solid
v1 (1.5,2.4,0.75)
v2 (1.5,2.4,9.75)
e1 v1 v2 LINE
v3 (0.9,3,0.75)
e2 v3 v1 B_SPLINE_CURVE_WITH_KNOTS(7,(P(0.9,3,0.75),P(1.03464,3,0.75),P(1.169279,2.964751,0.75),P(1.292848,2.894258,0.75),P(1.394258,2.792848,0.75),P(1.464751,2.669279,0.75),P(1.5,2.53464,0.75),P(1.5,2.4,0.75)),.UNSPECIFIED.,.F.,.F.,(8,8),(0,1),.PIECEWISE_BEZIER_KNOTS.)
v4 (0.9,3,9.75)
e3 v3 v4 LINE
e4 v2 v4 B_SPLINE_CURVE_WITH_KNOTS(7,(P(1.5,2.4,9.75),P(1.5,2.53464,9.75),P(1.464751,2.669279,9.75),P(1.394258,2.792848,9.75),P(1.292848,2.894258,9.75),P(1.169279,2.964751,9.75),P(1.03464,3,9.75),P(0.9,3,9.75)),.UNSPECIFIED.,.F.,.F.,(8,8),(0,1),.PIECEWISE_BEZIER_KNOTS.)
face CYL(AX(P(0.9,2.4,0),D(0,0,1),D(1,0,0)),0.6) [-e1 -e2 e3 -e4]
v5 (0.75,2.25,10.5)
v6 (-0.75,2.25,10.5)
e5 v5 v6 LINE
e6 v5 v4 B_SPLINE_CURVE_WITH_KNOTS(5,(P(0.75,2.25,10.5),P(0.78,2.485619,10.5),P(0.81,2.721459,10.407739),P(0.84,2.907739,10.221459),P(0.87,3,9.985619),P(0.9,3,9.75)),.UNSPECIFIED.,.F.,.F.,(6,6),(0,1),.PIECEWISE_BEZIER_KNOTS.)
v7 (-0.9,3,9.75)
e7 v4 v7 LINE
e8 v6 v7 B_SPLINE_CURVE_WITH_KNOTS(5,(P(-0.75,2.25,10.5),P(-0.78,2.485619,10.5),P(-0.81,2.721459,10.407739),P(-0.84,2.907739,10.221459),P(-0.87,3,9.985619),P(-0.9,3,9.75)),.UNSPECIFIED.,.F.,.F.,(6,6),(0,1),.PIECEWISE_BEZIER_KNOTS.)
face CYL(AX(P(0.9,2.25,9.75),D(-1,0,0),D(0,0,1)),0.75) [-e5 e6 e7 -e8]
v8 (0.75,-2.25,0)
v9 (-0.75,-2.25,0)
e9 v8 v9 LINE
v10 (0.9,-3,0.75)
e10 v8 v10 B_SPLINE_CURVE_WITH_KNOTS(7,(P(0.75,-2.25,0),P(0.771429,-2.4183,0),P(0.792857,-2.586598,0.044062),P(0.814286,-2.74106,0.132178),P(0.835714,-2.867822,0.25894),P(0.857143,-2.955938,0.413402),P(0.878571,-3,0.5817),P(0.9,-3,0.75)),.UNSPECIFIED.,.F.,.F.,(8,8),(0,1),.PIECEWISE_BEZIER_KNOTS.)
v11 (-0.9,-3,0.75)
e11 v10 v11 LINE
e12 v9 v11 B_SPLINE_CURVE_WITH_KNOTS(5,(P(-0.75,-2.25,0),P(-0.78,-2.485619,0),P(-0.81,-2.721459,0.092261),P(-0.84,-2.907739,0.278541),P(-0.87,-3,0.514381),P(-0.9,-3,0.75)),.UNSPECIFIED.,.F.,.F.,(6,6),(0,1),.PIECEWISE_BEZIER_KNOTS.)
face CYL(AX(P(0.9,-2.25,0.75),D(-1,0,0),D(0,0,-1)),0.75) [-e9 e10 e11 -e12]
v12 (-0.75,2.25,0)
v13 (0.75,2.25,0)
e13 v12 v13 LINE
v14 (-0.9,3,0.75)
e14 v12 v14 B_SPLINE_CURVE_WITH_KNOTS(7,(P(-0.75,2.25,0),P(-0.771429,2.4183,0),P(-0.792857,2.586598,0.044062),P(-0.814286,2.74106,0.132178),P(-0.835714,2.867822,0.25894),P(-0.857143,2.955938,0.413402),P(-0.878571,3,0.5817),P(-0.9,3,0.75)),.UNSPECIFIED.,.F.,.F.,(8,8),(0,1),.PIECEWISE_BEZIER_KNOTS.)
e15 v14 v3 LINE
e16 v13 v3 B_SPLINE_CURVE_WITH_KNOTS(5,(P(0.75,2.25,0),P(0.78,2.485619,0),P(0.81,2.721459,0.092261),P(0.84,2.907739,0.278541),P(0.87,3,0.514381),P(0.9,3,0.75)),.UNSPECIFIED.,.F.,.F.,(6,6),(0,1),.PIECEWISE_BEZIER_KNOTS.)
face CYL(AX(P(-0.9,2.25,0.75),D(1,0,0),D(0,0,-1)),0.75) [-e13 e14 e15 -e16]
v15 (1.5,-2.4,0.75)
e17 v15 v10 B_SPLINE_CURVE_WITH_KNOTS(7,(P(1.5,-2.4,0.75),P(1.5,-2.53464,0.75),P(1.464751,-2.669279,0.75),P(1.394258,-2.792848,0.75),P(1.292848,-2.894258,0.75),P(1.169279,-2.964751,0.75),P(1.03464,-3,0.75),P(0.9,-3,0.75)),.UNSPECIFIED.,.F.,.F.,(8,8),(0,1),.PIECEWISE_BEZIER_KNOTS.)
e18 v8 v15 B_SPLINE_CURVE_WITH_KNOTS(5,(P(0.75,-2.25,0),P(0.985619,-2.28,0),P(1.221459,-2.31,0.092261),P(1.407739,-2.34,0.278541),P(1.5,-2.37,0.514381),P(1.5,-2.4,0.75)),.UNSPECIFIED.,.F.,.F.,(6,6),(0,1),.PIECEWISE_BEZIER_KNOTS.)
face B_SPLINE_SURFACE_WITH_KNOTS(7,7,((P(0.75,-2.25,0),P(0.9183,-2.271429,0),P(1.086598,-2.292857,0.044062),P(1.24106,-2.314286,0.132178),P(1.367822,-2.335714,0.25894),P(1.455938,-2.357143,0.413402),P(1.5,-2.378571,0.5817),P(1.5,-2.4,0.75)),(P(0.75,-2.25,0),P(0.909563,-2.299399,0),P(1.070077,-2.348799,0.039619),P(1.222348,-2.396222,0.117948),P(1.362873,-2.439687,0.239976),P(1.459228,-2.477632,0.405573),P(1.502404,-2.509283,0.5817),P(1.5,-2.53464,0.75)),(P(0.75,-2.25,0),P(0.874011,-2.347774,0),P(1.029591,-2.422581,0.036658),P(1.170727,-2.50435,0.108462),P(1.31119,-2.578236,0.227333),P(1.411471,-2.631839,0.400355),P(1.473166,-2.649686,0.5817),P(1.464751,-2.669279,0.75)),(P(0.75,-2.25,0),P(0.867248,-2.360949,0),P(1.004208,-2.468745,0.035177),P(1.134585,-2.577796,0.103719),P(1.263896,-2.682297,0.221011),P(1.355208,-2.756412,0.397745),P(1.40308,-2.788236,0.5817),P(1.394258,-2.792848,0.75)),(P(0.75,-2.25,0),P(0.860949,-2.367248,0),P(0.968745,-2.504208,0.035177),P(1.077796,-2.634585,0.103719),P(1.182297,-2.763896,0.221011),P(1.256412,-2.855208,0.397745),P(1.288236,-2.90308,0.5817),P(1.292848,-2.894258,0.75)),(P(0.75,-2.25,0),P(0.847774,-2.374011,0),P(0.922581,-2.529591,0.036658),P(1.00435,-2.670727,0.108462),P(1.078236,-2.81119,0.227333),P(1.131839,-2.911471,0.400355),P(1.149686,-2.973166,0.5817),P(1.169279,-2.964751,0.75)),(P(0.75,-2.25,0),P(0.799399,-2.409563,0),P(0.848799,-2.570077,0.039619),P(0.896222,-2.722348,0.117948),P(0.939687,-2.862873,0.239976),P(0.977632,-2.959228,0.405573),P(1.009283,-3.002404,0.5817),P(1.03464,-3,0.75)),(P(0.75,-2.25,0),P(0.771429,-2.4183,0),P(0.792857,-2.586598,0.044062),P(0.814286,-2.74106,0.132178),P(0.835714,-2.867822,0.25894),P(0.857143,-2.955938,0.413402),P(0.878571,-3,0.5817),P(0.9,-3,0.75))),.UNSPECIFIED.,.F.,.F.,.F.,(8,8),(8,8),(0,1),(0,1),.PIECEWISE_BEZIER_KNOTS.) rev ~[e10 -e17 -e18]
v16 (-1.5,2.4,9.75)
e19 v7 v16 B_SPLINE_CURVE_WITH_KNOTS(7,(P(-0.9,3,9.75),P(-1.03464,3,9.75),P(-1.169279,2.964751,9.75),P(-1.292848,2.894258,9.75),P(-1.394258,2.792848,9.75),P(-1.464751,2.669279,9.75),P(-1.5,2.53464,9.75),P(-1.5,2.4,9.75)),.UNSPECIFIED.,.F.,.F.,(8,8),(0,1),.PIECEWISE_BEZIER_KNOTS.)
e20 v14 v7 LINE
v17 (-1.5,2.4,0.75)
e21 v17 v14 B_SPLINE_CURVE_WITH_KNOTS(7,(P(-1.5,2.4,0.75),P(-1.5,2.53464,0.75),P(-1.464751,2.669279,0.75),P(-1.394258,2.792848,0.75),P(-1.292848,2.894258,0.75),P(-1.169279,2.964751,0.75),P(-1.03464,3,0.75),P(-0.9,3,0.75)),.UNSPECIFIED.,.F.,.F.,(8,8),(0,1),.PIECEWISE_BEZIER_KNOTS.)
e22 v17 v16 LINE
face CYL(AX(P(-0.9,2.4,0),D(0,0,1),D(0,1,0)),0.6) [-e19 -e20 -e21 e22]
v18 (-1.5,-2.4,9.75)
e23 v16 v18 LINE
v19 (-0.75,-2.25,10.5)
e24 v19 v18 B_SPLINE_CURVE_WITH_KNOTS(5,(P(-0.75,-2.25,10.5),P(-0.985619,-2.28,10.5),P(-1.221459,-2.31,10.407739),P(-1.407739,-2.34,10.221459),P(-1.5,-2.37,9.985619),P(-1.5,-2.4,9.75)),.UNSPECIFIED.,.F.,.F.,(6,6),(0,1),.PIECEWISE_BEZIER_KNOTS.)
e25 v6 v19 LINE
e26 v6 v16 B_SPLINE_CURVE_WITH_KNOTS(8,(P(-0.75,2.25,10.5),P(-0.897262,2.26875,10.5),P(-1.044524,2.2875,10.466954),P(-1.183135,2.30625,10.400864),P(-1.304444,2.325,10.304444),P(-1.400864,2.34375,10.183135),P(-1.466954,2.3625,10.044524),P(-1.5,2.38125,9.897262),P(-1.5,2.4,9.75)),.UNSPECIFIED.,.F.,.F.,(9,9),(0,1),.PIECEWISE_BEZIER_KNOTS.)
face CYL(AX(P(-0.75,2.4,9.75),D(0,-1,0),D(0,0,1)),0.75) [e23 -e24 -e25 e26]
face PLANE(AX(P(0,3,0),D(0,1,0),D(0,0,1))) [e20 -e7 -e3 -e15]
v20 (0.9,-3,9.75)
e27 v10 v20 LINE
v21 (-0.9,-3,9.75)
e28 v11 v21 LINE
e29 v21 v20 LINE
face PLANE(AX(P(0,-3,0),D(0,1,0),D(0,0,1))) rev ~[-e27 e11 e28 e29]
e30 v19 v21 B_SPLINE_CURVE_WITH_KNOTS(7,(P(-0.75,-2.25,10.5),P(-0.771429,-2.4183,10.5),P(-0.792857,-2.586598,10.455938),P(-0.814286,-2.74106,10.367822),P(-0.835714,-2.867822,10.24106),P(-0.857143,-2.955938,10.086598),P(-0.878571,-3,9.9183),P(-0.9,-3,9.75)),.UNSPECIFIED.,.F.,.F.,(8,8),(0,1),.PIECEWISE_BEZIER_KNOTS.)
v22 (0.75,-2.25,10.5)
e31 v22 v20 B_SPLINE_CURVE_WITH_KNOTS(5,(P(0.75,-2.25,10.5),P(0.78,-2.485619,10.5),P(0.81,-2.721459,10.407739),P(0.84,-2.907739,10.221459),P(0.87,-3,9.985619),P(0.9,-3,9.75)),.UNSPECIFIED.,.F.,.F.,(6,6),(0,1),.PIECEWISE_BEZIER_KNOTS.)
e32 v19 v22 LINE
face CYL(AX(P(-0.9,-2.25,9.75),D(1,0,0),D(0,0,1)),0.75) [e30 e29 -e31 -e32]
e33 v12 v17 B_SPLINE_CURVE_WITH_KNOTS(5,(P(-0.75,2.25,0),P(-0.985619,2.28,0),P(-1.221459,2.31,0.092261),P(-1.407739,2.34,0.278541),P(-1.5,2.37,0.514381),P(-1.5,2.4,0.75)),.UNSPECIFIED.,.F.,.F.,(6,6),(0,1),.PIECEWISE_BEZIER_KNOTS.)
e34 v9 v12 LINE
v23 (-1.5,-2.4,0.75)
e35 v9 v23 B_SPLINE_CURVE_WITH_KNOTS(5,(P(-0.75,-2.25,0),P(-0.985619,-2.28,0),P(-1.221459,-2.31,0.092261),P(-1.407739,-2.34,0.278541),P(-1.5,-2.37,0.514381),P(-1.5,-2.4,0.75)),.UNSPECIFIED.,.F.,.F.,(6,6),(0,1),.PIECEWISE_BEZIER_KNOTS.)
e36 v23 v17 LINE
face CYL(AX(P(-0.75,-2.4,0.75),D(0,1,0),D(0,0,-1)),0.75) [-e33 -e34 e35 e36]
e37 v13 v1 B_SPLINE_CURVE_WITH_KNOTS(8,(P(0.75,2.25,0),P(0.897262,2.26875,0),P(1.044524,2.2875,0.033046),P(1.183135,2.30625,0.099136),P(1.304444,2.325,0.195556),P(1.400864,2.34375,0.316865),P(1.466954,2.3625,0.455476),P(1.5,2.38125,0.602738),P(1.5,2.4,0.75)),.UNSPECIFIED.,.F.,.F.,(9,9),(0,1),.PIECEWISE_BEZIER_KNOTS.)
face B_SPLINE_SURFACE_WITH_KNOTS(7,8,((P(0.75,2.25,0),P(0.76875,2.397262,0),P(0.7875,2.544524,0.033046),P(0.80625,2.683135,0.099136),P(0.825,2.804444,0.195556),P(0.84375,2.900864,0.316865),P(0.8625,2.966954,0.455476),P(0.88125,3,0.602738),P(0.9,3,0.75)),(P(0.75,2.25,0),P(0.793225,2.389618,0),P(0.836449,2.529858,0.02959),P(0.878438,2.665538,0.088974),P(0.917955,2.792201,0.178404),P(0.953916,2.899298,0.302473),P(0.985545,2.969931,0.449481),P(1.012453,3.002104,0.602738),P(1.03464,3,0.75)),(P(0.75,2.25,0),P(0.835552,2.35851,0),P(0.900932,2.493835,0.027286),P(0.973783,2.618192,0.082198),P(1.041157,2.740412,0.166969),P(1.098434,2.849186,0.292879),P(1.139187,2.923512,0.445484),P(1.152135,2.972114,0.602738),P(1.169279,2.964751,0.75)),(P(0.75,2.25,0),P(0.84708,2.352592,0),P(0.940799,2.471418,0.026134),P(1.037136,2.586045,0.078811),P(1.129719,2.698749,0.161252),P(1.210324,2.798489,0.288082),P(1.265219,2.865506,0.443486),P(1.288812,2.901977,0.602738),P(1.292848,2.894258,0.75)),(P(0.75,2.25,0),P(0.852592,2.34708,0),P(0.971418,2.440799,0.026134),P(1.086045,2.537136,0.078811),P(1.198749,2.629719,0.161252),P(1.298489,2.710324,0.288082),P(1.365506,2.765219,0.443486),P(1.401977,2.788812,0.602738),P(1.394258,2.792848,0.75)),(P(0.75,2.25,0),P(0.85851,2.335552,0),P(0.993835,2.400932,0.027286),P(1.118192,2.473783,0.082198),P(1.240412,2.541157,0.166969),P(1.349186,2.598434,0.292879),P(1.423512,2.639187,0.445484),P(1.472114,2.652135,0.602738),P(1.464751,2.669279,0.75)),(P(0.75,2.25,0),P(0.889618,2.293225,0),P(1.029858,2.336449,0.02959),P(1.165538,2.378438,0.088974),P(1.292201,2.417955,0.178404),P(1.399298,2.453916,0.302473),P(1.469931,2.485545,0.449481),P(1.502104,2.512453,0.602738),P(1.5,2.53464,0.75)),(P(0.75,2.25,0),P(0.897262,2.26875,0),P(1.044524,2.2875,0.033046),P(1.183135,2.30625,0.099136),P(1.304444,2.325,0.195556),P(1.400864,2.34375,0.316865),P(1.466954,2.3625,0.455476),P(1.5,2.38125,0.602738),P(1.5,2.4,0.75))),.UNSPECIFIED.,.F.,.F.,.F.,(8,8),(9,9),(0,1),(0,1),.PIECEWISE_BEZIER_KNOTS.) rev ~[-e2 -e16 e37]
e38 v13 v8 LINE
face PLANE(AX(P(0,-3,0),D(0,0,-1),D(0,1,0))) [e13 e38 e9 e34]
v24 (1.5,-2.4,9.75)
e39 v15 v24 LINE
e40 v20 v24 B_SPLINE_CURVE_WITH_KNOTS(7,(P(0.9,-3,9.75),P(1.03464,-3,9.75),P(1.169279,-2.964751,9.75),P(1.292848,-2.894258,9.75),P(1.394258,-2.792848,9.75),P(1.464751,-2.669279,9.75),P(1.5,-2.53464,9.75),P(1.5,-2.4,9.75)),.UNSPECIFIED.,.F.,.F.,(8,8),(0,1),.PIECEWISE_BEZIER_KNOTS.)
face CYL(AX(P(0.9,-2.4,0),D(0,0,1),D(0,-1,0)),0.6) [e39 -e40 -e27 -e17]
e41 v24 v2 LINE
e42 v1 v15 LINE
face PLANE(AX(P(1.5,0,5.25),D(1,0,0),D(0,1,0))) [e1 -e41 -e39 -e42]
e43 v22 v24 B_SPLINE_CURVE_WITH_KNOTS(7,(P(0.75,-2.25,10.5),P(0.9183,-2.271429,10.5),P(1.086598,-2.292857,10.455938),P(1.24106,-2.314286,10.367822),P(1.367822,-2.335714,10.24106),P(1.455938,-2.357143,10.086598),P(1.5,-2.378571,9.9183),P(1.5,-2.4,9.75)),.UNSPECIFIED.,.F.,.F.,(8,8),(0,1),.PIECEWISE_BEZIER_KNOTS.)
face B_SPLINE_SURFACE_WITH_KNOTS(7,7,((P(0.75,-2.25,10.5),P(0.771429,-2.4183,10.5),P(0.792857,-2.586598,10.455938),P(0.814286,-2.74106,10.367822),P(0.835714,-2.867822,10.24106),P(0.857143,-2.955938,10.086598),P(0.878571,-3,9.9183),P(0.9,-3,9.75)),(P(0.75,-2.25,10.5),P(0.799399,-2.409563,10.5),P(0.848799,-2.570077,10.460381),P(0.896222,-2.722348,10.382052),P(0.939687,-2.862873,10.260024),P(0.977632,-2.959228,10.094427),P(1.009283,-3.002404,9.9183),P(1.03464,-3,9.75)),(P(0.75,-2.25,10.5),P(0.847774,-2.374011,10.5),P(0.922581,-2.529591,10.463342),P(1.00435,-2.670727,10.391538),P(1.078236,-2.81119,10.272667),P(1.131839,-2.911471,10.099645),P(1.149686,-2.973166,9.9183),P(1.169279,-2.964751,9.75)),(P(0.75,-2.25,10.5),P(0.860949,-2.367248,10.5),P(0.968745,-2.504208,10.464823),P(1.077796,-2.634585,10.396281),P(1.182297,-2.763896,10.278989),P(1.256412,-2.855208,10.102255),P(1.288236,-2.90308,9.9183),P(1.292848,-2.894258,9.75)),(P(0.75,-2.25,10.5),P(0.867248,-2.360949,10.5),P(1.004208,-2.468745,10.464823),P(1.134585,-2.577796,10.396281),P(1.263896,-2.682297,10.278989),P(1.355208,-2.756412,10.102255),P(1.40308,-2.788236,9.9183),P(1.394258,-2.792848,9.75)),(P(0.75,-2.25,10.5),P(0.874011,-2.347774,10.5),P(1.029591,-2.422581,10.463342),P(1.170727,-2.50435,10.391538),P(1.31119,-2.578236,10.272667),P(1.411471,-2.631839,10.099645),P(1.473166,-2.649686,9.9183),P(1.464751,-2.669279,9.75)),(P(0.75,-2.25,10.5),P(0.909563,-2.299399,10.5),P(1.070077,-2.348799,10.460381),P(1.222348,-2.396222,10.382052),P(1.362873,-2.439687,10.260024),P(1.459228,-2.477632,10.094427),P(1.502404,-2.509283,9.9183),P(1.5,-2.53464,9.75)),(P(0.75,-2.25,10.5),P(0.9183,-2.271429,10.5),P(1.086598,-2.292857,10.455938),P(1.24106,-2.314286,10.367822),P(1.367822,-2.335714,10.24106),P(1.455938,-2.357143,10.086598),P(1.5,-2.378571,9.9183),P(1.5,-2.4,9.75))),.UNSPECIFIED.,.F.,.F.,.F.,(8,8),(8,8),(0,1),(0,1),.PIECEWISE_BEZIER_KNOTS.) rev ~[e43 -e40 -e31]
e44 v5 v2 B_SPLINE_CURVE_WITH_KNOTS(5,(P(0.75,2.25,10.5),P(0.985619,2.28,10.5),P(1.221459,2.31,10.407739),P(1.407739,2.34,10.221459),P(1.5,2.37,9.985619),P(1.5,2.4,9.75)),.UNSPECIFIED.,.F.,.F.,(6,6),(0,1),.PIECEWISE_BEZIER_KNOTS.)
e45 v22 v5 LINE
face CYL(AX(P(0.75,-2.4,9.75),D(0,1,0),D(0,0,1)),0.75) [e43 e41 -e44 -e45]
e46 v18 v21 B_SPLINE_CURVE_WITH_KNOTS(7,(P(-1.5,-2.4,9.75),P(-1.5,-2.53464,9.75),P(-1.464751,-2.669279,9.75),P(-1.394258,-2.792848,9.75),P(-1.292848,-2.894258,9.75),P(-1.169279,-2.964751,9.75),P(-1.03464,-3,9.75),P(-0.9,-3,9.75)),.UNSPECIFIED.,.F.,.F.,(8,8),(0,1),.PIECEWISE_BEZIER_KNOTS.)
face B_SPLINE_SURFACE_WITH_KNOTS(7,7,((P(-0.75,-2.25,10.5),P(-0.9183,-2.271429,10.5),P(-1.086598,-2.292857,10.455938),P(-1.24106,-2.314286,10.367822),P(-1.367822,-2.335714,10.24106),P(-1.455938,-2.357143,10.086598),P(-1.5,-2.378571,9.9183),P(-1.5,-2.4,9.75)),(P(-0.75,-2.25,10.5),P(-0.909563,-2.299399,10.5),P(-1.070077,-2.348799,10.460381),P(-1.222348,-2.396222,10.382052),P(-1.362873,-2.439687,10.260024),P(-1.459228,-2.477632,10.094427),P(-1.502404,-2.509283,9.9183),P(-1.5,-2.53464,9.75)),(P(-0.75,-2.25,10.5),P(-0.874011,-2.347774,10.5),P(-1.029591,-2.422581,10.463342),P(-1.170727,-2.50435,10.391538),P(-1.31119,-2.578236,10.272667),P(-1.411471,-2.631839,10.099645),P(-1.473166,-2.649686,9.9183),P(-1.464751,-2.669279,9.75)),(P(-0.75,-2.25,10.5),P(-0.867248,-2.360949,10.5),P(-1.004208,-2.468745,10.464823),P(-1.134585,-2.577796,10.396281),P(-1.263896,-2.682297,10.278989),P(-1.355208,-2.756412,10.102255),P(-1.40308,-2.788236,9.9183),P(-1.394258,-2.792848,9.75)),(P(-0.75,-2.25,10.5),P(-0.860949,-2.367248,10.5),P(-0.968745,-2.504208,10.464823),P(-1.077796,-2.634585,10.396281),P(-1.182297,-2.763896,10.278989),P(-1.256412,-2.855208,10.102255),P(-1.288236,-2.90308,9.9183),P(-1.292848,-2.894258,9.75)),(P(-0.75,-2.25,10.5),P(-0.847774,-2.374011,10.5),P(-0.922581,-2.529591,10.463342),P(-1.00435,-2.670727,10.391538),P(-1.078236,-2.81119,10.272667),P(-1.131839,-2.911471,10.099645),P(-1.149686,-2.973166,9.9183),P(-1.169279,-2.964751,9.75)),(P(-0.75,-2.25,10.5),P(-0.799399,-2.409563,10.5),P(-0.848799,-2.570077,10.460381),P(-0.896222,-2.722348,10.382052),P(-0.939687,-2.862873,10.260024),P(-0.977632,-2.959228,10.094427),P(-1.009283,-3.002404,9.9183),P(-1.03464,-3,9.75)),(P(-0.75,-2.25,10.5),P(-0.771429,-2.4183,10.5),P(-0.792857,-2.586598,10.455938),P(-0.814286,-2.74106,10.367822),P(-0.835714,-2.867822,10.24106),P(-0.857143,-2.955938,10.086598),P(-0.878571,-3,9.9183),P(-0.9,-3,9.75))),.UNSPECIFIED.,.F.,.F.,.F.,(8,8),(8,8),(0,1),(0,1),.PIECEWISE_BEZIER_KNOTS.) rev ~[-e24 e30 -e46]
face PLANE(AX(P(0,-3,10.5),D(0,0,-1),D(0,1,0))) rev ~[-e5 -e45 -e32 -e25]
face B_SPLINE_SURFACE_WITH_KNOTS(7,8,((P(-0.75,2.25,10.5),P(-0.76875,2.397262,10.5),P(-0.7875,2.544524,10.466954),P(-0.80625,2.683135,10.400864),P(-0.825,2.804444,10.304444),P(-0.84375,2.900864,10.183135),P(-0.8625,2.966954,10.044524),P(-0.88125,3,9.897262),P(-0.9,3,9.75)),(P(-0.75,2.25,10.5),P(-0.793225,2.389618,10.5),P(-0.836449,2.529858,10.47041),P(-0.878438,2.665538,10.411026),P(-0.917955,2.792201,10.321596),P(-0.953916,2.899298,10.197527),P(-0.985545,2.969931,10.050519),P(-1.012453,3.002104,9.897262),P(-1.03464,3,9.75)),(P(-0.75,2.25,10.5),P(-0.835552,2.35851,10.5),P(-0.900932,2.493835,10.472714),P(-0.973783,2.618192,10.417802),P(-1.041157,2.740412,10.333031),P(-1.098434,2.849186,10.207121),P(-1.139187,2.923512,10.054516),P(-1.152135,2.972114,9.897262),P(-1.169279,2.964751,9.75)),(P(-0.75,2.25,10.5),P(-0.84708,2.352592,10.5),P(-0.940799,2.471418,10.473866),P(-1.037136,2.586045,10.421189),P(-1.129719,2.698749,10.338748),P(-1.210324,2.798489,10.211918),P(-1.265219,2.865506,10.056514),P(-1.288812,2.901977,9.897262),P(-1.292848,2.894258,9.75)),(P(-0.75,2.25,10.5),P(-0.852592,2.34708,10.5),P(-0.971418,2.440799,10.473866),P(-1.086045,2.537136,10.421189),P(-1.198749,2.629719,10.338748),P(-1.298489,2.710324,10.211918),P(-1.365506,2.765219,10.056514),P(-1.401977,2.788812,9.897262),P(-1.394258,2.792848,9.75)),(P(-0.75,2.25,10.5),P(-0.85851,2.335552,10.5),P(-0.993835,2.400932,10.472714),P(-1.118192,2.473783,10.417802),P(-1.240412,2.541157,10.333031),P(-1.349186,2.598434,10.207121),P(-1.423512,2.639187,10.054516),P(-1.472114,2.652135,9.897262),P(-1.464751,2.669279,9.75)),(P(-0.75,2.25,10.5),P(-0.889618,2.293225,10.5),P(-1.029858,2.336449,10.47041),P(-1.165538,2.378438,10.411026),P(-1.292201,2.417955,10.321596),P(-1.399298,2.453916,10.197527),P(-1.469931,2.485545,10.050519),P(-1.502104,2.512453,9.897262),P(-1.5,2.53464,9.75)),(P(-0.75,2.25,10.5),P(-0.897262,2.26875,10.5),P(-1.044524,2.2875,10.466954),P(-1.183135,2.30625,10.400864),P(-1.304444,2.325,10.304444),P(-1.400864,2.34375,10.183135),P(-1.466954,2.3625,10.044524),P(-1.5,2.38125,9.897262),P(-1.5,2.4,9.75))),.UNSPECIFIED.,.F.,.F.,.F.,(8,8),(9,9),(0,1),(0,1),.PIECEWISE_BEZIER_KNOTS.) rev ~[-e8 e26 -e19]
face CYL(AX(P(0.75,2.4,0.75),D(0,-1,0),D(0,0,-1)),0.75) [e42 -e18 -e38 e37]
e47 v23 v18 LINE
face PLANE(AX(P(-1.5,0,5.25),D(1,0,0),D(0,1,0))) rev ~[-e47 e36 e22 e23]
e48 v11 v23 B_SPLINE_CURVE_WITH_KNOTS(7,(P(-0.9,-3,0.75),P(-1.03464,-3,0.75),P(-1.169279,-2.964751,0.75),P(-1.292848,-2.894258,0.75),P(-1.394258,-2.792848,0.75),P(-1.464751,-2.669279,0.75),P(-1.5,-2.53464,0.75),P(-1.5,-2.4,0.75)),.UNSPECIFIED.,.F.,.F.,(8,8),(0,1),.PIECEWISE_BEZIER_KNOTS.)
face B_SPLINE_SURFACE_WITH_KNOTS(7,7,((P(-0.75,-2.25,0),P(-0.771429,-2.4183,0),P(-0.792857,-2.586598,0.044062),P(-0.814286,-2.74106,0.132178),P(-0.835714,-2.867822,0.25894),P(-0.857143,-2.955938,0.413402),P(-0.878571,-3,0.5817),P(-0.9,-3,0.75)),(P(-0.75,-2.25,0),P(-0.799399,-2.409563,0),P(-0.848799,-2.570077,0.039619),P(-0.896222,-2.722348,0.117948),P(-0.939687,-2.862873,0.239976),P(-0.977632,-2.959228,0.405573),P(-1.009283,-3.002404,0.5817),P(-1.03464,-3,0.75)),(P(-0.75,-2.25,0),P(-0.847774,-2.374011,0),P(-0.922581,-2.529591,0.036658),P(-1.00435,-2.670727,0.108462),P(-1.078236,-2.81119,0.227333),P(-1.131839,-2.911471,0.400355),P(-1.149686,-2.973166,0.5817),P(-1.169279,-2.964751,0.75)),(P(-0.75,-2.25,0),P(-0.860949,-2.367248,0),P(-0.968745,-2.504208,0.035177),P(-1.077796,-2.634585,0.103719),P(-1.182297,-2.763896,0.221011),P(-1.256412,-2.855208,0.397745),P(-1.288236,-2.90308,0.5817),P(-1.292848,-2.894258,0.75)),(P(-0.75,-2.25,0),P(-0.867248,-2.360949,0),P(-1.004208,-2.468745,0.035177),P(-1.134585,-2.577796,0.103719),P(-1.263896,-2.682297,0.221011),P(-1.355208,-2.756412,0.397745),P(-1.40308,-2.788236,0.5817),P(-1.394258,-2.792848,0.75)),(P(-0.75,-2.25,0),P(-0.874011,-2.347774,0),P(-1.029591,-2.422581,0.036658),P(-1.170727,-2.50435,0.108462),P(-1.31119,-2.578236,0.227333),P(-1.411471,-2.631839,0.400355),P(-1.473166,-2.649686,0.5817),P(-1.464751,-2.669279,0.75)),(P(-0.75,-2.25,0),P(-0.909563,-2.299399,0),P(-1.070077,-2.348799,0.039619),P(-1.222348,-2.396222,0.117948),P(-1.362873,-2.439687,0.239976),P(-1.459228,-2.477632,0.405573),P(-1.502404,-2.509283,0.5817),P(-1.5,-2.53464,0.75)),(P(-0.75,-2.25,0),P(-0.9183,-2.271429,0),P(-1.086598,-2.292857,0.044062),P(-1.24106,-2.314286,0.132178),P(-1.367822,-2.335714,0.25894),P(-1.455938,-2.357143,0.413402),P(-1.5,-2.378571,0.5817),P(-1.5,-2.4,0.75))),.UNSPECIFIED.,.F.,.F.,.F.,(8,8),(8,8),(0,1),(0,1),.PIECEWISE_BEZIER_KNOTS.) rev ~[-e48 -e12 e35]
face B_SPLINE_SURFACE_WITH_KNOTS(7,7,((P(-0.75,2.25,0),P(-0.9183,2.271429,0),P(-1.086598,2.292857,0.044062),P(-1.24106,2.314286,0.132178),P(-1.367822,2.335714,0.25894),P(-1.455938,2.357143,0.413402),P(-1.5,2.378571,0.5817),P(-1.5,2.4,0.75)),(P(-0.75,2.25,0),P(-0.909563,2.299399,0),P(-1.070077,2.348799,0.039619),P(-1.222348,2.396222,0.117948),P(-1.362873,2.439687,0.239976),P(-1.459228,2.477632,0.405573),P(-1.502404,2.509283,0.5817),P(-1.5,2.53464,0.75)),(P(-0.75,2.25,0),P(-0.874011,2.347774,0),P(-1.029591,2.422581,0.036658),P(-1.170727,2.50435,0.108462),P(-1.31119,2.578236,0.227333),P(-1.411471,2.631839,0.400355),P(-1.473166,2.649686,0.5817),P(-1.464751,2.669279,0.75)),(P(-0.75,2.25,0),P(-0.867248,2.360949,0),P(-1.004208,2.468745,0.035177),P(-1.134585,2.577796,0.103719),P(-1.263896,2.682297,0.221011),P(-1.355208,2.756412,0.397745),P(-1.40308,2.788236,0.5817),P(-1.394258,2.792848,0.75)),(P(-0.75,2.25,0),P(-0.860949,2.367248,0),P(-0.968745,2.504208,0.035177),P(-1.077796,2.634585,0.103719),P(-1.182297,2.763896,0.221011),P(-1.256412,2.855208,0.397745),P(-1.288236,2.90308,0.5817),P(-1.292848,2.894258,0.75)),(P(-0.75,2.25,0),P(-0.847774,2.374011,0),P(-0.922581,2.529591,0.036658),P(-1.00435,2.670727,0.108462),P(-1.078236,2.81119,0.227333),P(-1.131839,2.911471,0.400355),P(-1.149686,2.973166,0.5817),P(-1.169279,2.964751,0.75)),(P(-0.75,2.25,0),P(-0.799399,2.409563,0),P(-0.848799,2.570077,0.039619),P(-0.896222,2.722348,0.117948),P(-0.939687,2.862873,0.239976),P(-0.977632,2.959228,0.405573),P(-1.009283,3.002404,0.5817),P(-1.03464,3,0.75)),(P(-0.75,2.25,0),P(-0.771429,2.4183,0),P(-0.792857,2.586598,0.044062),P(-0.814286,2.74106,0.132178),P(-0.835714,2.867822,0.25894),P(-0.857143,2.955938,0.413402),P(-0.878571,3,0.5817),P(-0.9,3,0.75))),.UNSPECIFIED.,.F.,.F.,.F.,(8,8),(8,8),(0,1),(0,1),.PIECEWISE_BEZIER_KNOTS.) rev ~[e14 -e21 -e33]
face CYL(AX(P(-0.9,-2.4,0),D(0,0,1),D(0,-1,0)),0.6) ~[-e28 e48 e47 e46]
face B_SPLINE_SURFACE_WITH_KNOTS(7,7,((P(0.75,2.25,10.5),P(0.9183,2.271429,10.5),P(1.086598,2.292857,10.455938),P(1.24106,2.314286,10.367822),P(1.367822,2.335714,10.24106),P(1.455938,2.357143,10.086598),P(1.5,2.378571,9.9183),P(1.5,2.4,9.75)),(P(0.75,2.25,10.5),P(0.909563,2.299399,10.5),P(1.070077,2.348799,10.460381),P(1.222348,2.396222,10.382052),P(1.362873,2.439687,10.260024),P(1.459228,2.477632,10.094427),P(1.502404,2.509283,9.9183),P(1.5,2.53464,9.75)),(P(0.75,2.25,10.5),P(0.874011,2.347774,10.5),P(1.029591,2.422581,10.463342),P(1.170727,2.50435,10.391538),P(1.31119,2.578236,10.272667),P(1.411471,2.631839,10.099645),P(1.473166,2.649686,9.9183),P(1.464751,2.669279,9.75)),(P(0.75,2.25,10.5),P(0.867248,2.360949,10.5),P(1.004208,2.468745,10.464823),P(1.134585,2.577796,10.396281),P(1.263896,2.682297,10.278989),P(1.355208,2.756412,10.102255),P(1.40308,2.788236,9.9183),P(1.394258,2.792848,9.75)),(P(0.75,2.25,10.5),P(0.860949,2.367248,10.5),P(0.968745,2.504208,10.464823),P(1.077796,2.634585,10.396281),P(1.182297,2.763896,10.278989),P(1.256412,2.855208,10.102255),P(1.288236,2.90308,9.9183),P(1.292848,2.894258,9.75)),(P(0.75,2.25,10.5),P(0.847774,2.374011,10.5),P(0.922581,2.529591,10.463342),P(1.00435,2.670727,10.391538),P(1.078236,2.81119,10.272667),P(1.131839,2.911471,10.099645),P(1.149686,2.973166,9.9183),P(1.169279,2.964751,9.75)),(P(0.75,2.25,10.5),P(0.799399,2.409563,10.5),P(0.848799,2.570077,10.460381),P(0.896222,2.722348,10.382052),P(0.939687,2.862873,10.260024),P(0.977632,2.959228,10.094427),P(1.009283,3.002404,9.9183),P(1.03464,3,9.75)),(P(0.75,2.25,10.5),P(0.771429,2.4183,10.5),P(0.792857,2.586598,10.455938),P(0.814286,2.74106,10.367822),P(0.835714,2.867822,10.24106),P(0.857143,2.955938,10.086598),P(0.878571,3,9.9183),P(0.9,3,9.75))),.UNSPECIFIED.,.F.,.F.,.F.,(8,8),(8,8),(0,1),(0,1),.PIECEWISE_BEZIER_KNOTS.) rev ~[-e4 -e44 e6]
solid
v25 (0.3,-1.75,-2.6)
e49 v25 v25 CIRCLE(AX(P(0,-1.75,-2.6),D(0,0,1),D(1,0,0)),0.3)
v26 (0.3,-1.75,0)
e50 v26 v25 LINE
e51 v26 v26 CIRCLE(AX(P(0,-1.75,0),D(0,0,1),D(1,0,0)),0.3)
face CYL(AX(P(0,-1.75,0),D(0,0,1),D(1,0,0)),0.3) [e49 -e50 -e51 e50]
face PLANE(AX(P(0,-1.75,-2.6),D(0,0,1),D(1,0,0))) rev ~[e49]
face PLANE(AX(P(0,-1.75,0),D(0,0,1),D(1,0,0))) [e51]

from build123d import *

# Parameters (mm, degrees)
SKETCH_W     = 6
SKETCH_H     = 10.5
PAD_DEPTH    = 1.5
FILLET_R     = 0.6
FILLET001_R  = 0.75
SKETCH001_R  = 0.3
PAD001_DEPTH = 2.6


with BuildPart() as body:
    # Sketch → Pad (new body, symmetric)
    with BuildSketch(Plane.YZ):
        with Locations((0, 5.25)):
            Rectangle(SKETCH_W, SKETCH_H)
    extrude(amount=PAD_DEPTH, both=True)

    # Fillet
    fillet_edges = [body.edges().sort_by_distance(p)[0] for p in [
        (-1.5, 3, 5.25),
        (-1.5, -3, 5.25),
        (1.5, 3, 5.25),
        (1.5, -3, 5.25),
    ]]
    fillet(fillet_edges, radius=FILLET_R)

    # Fillet001
    fillet001_edges = [body.edges().sort_by_distance(p)[0] for p in [
        (0, 3, 10.5),
        (1.324264, 2.824264, 10.5),
        (1.5, 0, 10.5),
        (1.324264, -2.824264, 10.5),
        (0, -3, 10.5),
        (-1.324264, -2.824264, 10.5),
        (-1.5, 0, 10.5),
        (-1.324264, 2.824264, 10.5),
        (-1.5, 0, 0),
        (-1.324264, -2.824264, 0),
        (0, -3, 0),
        (1.324264, -2.824264, 0),
        (1.5, 0, 0),
        (1.324264, 2.824264, 0),
        (0, 3, 0),
        (-1.324264, 2.824264, 0),
    ]]
    fillet(fillet001_edges, radius=FILLET001_R)


with BuildPart() as leadclone:
    # Sketch001 → Pad001 (new body)
    with BuildSketch(Plane(origin=(0, 1.75, 0), x_dir=(1, 0, 0), z_dir=(0, 0, 1))):
        Circle(SKETCH001_R)
    extrude(amount=-PAD001_DEPTH)


with BuildPart() as leadclone_1:
    # Body002 placement: moved
    add(leadclone.part.moved(Location((0, -3.5, 0))))


solid = Compound([body.part, leadclone_1.part])
